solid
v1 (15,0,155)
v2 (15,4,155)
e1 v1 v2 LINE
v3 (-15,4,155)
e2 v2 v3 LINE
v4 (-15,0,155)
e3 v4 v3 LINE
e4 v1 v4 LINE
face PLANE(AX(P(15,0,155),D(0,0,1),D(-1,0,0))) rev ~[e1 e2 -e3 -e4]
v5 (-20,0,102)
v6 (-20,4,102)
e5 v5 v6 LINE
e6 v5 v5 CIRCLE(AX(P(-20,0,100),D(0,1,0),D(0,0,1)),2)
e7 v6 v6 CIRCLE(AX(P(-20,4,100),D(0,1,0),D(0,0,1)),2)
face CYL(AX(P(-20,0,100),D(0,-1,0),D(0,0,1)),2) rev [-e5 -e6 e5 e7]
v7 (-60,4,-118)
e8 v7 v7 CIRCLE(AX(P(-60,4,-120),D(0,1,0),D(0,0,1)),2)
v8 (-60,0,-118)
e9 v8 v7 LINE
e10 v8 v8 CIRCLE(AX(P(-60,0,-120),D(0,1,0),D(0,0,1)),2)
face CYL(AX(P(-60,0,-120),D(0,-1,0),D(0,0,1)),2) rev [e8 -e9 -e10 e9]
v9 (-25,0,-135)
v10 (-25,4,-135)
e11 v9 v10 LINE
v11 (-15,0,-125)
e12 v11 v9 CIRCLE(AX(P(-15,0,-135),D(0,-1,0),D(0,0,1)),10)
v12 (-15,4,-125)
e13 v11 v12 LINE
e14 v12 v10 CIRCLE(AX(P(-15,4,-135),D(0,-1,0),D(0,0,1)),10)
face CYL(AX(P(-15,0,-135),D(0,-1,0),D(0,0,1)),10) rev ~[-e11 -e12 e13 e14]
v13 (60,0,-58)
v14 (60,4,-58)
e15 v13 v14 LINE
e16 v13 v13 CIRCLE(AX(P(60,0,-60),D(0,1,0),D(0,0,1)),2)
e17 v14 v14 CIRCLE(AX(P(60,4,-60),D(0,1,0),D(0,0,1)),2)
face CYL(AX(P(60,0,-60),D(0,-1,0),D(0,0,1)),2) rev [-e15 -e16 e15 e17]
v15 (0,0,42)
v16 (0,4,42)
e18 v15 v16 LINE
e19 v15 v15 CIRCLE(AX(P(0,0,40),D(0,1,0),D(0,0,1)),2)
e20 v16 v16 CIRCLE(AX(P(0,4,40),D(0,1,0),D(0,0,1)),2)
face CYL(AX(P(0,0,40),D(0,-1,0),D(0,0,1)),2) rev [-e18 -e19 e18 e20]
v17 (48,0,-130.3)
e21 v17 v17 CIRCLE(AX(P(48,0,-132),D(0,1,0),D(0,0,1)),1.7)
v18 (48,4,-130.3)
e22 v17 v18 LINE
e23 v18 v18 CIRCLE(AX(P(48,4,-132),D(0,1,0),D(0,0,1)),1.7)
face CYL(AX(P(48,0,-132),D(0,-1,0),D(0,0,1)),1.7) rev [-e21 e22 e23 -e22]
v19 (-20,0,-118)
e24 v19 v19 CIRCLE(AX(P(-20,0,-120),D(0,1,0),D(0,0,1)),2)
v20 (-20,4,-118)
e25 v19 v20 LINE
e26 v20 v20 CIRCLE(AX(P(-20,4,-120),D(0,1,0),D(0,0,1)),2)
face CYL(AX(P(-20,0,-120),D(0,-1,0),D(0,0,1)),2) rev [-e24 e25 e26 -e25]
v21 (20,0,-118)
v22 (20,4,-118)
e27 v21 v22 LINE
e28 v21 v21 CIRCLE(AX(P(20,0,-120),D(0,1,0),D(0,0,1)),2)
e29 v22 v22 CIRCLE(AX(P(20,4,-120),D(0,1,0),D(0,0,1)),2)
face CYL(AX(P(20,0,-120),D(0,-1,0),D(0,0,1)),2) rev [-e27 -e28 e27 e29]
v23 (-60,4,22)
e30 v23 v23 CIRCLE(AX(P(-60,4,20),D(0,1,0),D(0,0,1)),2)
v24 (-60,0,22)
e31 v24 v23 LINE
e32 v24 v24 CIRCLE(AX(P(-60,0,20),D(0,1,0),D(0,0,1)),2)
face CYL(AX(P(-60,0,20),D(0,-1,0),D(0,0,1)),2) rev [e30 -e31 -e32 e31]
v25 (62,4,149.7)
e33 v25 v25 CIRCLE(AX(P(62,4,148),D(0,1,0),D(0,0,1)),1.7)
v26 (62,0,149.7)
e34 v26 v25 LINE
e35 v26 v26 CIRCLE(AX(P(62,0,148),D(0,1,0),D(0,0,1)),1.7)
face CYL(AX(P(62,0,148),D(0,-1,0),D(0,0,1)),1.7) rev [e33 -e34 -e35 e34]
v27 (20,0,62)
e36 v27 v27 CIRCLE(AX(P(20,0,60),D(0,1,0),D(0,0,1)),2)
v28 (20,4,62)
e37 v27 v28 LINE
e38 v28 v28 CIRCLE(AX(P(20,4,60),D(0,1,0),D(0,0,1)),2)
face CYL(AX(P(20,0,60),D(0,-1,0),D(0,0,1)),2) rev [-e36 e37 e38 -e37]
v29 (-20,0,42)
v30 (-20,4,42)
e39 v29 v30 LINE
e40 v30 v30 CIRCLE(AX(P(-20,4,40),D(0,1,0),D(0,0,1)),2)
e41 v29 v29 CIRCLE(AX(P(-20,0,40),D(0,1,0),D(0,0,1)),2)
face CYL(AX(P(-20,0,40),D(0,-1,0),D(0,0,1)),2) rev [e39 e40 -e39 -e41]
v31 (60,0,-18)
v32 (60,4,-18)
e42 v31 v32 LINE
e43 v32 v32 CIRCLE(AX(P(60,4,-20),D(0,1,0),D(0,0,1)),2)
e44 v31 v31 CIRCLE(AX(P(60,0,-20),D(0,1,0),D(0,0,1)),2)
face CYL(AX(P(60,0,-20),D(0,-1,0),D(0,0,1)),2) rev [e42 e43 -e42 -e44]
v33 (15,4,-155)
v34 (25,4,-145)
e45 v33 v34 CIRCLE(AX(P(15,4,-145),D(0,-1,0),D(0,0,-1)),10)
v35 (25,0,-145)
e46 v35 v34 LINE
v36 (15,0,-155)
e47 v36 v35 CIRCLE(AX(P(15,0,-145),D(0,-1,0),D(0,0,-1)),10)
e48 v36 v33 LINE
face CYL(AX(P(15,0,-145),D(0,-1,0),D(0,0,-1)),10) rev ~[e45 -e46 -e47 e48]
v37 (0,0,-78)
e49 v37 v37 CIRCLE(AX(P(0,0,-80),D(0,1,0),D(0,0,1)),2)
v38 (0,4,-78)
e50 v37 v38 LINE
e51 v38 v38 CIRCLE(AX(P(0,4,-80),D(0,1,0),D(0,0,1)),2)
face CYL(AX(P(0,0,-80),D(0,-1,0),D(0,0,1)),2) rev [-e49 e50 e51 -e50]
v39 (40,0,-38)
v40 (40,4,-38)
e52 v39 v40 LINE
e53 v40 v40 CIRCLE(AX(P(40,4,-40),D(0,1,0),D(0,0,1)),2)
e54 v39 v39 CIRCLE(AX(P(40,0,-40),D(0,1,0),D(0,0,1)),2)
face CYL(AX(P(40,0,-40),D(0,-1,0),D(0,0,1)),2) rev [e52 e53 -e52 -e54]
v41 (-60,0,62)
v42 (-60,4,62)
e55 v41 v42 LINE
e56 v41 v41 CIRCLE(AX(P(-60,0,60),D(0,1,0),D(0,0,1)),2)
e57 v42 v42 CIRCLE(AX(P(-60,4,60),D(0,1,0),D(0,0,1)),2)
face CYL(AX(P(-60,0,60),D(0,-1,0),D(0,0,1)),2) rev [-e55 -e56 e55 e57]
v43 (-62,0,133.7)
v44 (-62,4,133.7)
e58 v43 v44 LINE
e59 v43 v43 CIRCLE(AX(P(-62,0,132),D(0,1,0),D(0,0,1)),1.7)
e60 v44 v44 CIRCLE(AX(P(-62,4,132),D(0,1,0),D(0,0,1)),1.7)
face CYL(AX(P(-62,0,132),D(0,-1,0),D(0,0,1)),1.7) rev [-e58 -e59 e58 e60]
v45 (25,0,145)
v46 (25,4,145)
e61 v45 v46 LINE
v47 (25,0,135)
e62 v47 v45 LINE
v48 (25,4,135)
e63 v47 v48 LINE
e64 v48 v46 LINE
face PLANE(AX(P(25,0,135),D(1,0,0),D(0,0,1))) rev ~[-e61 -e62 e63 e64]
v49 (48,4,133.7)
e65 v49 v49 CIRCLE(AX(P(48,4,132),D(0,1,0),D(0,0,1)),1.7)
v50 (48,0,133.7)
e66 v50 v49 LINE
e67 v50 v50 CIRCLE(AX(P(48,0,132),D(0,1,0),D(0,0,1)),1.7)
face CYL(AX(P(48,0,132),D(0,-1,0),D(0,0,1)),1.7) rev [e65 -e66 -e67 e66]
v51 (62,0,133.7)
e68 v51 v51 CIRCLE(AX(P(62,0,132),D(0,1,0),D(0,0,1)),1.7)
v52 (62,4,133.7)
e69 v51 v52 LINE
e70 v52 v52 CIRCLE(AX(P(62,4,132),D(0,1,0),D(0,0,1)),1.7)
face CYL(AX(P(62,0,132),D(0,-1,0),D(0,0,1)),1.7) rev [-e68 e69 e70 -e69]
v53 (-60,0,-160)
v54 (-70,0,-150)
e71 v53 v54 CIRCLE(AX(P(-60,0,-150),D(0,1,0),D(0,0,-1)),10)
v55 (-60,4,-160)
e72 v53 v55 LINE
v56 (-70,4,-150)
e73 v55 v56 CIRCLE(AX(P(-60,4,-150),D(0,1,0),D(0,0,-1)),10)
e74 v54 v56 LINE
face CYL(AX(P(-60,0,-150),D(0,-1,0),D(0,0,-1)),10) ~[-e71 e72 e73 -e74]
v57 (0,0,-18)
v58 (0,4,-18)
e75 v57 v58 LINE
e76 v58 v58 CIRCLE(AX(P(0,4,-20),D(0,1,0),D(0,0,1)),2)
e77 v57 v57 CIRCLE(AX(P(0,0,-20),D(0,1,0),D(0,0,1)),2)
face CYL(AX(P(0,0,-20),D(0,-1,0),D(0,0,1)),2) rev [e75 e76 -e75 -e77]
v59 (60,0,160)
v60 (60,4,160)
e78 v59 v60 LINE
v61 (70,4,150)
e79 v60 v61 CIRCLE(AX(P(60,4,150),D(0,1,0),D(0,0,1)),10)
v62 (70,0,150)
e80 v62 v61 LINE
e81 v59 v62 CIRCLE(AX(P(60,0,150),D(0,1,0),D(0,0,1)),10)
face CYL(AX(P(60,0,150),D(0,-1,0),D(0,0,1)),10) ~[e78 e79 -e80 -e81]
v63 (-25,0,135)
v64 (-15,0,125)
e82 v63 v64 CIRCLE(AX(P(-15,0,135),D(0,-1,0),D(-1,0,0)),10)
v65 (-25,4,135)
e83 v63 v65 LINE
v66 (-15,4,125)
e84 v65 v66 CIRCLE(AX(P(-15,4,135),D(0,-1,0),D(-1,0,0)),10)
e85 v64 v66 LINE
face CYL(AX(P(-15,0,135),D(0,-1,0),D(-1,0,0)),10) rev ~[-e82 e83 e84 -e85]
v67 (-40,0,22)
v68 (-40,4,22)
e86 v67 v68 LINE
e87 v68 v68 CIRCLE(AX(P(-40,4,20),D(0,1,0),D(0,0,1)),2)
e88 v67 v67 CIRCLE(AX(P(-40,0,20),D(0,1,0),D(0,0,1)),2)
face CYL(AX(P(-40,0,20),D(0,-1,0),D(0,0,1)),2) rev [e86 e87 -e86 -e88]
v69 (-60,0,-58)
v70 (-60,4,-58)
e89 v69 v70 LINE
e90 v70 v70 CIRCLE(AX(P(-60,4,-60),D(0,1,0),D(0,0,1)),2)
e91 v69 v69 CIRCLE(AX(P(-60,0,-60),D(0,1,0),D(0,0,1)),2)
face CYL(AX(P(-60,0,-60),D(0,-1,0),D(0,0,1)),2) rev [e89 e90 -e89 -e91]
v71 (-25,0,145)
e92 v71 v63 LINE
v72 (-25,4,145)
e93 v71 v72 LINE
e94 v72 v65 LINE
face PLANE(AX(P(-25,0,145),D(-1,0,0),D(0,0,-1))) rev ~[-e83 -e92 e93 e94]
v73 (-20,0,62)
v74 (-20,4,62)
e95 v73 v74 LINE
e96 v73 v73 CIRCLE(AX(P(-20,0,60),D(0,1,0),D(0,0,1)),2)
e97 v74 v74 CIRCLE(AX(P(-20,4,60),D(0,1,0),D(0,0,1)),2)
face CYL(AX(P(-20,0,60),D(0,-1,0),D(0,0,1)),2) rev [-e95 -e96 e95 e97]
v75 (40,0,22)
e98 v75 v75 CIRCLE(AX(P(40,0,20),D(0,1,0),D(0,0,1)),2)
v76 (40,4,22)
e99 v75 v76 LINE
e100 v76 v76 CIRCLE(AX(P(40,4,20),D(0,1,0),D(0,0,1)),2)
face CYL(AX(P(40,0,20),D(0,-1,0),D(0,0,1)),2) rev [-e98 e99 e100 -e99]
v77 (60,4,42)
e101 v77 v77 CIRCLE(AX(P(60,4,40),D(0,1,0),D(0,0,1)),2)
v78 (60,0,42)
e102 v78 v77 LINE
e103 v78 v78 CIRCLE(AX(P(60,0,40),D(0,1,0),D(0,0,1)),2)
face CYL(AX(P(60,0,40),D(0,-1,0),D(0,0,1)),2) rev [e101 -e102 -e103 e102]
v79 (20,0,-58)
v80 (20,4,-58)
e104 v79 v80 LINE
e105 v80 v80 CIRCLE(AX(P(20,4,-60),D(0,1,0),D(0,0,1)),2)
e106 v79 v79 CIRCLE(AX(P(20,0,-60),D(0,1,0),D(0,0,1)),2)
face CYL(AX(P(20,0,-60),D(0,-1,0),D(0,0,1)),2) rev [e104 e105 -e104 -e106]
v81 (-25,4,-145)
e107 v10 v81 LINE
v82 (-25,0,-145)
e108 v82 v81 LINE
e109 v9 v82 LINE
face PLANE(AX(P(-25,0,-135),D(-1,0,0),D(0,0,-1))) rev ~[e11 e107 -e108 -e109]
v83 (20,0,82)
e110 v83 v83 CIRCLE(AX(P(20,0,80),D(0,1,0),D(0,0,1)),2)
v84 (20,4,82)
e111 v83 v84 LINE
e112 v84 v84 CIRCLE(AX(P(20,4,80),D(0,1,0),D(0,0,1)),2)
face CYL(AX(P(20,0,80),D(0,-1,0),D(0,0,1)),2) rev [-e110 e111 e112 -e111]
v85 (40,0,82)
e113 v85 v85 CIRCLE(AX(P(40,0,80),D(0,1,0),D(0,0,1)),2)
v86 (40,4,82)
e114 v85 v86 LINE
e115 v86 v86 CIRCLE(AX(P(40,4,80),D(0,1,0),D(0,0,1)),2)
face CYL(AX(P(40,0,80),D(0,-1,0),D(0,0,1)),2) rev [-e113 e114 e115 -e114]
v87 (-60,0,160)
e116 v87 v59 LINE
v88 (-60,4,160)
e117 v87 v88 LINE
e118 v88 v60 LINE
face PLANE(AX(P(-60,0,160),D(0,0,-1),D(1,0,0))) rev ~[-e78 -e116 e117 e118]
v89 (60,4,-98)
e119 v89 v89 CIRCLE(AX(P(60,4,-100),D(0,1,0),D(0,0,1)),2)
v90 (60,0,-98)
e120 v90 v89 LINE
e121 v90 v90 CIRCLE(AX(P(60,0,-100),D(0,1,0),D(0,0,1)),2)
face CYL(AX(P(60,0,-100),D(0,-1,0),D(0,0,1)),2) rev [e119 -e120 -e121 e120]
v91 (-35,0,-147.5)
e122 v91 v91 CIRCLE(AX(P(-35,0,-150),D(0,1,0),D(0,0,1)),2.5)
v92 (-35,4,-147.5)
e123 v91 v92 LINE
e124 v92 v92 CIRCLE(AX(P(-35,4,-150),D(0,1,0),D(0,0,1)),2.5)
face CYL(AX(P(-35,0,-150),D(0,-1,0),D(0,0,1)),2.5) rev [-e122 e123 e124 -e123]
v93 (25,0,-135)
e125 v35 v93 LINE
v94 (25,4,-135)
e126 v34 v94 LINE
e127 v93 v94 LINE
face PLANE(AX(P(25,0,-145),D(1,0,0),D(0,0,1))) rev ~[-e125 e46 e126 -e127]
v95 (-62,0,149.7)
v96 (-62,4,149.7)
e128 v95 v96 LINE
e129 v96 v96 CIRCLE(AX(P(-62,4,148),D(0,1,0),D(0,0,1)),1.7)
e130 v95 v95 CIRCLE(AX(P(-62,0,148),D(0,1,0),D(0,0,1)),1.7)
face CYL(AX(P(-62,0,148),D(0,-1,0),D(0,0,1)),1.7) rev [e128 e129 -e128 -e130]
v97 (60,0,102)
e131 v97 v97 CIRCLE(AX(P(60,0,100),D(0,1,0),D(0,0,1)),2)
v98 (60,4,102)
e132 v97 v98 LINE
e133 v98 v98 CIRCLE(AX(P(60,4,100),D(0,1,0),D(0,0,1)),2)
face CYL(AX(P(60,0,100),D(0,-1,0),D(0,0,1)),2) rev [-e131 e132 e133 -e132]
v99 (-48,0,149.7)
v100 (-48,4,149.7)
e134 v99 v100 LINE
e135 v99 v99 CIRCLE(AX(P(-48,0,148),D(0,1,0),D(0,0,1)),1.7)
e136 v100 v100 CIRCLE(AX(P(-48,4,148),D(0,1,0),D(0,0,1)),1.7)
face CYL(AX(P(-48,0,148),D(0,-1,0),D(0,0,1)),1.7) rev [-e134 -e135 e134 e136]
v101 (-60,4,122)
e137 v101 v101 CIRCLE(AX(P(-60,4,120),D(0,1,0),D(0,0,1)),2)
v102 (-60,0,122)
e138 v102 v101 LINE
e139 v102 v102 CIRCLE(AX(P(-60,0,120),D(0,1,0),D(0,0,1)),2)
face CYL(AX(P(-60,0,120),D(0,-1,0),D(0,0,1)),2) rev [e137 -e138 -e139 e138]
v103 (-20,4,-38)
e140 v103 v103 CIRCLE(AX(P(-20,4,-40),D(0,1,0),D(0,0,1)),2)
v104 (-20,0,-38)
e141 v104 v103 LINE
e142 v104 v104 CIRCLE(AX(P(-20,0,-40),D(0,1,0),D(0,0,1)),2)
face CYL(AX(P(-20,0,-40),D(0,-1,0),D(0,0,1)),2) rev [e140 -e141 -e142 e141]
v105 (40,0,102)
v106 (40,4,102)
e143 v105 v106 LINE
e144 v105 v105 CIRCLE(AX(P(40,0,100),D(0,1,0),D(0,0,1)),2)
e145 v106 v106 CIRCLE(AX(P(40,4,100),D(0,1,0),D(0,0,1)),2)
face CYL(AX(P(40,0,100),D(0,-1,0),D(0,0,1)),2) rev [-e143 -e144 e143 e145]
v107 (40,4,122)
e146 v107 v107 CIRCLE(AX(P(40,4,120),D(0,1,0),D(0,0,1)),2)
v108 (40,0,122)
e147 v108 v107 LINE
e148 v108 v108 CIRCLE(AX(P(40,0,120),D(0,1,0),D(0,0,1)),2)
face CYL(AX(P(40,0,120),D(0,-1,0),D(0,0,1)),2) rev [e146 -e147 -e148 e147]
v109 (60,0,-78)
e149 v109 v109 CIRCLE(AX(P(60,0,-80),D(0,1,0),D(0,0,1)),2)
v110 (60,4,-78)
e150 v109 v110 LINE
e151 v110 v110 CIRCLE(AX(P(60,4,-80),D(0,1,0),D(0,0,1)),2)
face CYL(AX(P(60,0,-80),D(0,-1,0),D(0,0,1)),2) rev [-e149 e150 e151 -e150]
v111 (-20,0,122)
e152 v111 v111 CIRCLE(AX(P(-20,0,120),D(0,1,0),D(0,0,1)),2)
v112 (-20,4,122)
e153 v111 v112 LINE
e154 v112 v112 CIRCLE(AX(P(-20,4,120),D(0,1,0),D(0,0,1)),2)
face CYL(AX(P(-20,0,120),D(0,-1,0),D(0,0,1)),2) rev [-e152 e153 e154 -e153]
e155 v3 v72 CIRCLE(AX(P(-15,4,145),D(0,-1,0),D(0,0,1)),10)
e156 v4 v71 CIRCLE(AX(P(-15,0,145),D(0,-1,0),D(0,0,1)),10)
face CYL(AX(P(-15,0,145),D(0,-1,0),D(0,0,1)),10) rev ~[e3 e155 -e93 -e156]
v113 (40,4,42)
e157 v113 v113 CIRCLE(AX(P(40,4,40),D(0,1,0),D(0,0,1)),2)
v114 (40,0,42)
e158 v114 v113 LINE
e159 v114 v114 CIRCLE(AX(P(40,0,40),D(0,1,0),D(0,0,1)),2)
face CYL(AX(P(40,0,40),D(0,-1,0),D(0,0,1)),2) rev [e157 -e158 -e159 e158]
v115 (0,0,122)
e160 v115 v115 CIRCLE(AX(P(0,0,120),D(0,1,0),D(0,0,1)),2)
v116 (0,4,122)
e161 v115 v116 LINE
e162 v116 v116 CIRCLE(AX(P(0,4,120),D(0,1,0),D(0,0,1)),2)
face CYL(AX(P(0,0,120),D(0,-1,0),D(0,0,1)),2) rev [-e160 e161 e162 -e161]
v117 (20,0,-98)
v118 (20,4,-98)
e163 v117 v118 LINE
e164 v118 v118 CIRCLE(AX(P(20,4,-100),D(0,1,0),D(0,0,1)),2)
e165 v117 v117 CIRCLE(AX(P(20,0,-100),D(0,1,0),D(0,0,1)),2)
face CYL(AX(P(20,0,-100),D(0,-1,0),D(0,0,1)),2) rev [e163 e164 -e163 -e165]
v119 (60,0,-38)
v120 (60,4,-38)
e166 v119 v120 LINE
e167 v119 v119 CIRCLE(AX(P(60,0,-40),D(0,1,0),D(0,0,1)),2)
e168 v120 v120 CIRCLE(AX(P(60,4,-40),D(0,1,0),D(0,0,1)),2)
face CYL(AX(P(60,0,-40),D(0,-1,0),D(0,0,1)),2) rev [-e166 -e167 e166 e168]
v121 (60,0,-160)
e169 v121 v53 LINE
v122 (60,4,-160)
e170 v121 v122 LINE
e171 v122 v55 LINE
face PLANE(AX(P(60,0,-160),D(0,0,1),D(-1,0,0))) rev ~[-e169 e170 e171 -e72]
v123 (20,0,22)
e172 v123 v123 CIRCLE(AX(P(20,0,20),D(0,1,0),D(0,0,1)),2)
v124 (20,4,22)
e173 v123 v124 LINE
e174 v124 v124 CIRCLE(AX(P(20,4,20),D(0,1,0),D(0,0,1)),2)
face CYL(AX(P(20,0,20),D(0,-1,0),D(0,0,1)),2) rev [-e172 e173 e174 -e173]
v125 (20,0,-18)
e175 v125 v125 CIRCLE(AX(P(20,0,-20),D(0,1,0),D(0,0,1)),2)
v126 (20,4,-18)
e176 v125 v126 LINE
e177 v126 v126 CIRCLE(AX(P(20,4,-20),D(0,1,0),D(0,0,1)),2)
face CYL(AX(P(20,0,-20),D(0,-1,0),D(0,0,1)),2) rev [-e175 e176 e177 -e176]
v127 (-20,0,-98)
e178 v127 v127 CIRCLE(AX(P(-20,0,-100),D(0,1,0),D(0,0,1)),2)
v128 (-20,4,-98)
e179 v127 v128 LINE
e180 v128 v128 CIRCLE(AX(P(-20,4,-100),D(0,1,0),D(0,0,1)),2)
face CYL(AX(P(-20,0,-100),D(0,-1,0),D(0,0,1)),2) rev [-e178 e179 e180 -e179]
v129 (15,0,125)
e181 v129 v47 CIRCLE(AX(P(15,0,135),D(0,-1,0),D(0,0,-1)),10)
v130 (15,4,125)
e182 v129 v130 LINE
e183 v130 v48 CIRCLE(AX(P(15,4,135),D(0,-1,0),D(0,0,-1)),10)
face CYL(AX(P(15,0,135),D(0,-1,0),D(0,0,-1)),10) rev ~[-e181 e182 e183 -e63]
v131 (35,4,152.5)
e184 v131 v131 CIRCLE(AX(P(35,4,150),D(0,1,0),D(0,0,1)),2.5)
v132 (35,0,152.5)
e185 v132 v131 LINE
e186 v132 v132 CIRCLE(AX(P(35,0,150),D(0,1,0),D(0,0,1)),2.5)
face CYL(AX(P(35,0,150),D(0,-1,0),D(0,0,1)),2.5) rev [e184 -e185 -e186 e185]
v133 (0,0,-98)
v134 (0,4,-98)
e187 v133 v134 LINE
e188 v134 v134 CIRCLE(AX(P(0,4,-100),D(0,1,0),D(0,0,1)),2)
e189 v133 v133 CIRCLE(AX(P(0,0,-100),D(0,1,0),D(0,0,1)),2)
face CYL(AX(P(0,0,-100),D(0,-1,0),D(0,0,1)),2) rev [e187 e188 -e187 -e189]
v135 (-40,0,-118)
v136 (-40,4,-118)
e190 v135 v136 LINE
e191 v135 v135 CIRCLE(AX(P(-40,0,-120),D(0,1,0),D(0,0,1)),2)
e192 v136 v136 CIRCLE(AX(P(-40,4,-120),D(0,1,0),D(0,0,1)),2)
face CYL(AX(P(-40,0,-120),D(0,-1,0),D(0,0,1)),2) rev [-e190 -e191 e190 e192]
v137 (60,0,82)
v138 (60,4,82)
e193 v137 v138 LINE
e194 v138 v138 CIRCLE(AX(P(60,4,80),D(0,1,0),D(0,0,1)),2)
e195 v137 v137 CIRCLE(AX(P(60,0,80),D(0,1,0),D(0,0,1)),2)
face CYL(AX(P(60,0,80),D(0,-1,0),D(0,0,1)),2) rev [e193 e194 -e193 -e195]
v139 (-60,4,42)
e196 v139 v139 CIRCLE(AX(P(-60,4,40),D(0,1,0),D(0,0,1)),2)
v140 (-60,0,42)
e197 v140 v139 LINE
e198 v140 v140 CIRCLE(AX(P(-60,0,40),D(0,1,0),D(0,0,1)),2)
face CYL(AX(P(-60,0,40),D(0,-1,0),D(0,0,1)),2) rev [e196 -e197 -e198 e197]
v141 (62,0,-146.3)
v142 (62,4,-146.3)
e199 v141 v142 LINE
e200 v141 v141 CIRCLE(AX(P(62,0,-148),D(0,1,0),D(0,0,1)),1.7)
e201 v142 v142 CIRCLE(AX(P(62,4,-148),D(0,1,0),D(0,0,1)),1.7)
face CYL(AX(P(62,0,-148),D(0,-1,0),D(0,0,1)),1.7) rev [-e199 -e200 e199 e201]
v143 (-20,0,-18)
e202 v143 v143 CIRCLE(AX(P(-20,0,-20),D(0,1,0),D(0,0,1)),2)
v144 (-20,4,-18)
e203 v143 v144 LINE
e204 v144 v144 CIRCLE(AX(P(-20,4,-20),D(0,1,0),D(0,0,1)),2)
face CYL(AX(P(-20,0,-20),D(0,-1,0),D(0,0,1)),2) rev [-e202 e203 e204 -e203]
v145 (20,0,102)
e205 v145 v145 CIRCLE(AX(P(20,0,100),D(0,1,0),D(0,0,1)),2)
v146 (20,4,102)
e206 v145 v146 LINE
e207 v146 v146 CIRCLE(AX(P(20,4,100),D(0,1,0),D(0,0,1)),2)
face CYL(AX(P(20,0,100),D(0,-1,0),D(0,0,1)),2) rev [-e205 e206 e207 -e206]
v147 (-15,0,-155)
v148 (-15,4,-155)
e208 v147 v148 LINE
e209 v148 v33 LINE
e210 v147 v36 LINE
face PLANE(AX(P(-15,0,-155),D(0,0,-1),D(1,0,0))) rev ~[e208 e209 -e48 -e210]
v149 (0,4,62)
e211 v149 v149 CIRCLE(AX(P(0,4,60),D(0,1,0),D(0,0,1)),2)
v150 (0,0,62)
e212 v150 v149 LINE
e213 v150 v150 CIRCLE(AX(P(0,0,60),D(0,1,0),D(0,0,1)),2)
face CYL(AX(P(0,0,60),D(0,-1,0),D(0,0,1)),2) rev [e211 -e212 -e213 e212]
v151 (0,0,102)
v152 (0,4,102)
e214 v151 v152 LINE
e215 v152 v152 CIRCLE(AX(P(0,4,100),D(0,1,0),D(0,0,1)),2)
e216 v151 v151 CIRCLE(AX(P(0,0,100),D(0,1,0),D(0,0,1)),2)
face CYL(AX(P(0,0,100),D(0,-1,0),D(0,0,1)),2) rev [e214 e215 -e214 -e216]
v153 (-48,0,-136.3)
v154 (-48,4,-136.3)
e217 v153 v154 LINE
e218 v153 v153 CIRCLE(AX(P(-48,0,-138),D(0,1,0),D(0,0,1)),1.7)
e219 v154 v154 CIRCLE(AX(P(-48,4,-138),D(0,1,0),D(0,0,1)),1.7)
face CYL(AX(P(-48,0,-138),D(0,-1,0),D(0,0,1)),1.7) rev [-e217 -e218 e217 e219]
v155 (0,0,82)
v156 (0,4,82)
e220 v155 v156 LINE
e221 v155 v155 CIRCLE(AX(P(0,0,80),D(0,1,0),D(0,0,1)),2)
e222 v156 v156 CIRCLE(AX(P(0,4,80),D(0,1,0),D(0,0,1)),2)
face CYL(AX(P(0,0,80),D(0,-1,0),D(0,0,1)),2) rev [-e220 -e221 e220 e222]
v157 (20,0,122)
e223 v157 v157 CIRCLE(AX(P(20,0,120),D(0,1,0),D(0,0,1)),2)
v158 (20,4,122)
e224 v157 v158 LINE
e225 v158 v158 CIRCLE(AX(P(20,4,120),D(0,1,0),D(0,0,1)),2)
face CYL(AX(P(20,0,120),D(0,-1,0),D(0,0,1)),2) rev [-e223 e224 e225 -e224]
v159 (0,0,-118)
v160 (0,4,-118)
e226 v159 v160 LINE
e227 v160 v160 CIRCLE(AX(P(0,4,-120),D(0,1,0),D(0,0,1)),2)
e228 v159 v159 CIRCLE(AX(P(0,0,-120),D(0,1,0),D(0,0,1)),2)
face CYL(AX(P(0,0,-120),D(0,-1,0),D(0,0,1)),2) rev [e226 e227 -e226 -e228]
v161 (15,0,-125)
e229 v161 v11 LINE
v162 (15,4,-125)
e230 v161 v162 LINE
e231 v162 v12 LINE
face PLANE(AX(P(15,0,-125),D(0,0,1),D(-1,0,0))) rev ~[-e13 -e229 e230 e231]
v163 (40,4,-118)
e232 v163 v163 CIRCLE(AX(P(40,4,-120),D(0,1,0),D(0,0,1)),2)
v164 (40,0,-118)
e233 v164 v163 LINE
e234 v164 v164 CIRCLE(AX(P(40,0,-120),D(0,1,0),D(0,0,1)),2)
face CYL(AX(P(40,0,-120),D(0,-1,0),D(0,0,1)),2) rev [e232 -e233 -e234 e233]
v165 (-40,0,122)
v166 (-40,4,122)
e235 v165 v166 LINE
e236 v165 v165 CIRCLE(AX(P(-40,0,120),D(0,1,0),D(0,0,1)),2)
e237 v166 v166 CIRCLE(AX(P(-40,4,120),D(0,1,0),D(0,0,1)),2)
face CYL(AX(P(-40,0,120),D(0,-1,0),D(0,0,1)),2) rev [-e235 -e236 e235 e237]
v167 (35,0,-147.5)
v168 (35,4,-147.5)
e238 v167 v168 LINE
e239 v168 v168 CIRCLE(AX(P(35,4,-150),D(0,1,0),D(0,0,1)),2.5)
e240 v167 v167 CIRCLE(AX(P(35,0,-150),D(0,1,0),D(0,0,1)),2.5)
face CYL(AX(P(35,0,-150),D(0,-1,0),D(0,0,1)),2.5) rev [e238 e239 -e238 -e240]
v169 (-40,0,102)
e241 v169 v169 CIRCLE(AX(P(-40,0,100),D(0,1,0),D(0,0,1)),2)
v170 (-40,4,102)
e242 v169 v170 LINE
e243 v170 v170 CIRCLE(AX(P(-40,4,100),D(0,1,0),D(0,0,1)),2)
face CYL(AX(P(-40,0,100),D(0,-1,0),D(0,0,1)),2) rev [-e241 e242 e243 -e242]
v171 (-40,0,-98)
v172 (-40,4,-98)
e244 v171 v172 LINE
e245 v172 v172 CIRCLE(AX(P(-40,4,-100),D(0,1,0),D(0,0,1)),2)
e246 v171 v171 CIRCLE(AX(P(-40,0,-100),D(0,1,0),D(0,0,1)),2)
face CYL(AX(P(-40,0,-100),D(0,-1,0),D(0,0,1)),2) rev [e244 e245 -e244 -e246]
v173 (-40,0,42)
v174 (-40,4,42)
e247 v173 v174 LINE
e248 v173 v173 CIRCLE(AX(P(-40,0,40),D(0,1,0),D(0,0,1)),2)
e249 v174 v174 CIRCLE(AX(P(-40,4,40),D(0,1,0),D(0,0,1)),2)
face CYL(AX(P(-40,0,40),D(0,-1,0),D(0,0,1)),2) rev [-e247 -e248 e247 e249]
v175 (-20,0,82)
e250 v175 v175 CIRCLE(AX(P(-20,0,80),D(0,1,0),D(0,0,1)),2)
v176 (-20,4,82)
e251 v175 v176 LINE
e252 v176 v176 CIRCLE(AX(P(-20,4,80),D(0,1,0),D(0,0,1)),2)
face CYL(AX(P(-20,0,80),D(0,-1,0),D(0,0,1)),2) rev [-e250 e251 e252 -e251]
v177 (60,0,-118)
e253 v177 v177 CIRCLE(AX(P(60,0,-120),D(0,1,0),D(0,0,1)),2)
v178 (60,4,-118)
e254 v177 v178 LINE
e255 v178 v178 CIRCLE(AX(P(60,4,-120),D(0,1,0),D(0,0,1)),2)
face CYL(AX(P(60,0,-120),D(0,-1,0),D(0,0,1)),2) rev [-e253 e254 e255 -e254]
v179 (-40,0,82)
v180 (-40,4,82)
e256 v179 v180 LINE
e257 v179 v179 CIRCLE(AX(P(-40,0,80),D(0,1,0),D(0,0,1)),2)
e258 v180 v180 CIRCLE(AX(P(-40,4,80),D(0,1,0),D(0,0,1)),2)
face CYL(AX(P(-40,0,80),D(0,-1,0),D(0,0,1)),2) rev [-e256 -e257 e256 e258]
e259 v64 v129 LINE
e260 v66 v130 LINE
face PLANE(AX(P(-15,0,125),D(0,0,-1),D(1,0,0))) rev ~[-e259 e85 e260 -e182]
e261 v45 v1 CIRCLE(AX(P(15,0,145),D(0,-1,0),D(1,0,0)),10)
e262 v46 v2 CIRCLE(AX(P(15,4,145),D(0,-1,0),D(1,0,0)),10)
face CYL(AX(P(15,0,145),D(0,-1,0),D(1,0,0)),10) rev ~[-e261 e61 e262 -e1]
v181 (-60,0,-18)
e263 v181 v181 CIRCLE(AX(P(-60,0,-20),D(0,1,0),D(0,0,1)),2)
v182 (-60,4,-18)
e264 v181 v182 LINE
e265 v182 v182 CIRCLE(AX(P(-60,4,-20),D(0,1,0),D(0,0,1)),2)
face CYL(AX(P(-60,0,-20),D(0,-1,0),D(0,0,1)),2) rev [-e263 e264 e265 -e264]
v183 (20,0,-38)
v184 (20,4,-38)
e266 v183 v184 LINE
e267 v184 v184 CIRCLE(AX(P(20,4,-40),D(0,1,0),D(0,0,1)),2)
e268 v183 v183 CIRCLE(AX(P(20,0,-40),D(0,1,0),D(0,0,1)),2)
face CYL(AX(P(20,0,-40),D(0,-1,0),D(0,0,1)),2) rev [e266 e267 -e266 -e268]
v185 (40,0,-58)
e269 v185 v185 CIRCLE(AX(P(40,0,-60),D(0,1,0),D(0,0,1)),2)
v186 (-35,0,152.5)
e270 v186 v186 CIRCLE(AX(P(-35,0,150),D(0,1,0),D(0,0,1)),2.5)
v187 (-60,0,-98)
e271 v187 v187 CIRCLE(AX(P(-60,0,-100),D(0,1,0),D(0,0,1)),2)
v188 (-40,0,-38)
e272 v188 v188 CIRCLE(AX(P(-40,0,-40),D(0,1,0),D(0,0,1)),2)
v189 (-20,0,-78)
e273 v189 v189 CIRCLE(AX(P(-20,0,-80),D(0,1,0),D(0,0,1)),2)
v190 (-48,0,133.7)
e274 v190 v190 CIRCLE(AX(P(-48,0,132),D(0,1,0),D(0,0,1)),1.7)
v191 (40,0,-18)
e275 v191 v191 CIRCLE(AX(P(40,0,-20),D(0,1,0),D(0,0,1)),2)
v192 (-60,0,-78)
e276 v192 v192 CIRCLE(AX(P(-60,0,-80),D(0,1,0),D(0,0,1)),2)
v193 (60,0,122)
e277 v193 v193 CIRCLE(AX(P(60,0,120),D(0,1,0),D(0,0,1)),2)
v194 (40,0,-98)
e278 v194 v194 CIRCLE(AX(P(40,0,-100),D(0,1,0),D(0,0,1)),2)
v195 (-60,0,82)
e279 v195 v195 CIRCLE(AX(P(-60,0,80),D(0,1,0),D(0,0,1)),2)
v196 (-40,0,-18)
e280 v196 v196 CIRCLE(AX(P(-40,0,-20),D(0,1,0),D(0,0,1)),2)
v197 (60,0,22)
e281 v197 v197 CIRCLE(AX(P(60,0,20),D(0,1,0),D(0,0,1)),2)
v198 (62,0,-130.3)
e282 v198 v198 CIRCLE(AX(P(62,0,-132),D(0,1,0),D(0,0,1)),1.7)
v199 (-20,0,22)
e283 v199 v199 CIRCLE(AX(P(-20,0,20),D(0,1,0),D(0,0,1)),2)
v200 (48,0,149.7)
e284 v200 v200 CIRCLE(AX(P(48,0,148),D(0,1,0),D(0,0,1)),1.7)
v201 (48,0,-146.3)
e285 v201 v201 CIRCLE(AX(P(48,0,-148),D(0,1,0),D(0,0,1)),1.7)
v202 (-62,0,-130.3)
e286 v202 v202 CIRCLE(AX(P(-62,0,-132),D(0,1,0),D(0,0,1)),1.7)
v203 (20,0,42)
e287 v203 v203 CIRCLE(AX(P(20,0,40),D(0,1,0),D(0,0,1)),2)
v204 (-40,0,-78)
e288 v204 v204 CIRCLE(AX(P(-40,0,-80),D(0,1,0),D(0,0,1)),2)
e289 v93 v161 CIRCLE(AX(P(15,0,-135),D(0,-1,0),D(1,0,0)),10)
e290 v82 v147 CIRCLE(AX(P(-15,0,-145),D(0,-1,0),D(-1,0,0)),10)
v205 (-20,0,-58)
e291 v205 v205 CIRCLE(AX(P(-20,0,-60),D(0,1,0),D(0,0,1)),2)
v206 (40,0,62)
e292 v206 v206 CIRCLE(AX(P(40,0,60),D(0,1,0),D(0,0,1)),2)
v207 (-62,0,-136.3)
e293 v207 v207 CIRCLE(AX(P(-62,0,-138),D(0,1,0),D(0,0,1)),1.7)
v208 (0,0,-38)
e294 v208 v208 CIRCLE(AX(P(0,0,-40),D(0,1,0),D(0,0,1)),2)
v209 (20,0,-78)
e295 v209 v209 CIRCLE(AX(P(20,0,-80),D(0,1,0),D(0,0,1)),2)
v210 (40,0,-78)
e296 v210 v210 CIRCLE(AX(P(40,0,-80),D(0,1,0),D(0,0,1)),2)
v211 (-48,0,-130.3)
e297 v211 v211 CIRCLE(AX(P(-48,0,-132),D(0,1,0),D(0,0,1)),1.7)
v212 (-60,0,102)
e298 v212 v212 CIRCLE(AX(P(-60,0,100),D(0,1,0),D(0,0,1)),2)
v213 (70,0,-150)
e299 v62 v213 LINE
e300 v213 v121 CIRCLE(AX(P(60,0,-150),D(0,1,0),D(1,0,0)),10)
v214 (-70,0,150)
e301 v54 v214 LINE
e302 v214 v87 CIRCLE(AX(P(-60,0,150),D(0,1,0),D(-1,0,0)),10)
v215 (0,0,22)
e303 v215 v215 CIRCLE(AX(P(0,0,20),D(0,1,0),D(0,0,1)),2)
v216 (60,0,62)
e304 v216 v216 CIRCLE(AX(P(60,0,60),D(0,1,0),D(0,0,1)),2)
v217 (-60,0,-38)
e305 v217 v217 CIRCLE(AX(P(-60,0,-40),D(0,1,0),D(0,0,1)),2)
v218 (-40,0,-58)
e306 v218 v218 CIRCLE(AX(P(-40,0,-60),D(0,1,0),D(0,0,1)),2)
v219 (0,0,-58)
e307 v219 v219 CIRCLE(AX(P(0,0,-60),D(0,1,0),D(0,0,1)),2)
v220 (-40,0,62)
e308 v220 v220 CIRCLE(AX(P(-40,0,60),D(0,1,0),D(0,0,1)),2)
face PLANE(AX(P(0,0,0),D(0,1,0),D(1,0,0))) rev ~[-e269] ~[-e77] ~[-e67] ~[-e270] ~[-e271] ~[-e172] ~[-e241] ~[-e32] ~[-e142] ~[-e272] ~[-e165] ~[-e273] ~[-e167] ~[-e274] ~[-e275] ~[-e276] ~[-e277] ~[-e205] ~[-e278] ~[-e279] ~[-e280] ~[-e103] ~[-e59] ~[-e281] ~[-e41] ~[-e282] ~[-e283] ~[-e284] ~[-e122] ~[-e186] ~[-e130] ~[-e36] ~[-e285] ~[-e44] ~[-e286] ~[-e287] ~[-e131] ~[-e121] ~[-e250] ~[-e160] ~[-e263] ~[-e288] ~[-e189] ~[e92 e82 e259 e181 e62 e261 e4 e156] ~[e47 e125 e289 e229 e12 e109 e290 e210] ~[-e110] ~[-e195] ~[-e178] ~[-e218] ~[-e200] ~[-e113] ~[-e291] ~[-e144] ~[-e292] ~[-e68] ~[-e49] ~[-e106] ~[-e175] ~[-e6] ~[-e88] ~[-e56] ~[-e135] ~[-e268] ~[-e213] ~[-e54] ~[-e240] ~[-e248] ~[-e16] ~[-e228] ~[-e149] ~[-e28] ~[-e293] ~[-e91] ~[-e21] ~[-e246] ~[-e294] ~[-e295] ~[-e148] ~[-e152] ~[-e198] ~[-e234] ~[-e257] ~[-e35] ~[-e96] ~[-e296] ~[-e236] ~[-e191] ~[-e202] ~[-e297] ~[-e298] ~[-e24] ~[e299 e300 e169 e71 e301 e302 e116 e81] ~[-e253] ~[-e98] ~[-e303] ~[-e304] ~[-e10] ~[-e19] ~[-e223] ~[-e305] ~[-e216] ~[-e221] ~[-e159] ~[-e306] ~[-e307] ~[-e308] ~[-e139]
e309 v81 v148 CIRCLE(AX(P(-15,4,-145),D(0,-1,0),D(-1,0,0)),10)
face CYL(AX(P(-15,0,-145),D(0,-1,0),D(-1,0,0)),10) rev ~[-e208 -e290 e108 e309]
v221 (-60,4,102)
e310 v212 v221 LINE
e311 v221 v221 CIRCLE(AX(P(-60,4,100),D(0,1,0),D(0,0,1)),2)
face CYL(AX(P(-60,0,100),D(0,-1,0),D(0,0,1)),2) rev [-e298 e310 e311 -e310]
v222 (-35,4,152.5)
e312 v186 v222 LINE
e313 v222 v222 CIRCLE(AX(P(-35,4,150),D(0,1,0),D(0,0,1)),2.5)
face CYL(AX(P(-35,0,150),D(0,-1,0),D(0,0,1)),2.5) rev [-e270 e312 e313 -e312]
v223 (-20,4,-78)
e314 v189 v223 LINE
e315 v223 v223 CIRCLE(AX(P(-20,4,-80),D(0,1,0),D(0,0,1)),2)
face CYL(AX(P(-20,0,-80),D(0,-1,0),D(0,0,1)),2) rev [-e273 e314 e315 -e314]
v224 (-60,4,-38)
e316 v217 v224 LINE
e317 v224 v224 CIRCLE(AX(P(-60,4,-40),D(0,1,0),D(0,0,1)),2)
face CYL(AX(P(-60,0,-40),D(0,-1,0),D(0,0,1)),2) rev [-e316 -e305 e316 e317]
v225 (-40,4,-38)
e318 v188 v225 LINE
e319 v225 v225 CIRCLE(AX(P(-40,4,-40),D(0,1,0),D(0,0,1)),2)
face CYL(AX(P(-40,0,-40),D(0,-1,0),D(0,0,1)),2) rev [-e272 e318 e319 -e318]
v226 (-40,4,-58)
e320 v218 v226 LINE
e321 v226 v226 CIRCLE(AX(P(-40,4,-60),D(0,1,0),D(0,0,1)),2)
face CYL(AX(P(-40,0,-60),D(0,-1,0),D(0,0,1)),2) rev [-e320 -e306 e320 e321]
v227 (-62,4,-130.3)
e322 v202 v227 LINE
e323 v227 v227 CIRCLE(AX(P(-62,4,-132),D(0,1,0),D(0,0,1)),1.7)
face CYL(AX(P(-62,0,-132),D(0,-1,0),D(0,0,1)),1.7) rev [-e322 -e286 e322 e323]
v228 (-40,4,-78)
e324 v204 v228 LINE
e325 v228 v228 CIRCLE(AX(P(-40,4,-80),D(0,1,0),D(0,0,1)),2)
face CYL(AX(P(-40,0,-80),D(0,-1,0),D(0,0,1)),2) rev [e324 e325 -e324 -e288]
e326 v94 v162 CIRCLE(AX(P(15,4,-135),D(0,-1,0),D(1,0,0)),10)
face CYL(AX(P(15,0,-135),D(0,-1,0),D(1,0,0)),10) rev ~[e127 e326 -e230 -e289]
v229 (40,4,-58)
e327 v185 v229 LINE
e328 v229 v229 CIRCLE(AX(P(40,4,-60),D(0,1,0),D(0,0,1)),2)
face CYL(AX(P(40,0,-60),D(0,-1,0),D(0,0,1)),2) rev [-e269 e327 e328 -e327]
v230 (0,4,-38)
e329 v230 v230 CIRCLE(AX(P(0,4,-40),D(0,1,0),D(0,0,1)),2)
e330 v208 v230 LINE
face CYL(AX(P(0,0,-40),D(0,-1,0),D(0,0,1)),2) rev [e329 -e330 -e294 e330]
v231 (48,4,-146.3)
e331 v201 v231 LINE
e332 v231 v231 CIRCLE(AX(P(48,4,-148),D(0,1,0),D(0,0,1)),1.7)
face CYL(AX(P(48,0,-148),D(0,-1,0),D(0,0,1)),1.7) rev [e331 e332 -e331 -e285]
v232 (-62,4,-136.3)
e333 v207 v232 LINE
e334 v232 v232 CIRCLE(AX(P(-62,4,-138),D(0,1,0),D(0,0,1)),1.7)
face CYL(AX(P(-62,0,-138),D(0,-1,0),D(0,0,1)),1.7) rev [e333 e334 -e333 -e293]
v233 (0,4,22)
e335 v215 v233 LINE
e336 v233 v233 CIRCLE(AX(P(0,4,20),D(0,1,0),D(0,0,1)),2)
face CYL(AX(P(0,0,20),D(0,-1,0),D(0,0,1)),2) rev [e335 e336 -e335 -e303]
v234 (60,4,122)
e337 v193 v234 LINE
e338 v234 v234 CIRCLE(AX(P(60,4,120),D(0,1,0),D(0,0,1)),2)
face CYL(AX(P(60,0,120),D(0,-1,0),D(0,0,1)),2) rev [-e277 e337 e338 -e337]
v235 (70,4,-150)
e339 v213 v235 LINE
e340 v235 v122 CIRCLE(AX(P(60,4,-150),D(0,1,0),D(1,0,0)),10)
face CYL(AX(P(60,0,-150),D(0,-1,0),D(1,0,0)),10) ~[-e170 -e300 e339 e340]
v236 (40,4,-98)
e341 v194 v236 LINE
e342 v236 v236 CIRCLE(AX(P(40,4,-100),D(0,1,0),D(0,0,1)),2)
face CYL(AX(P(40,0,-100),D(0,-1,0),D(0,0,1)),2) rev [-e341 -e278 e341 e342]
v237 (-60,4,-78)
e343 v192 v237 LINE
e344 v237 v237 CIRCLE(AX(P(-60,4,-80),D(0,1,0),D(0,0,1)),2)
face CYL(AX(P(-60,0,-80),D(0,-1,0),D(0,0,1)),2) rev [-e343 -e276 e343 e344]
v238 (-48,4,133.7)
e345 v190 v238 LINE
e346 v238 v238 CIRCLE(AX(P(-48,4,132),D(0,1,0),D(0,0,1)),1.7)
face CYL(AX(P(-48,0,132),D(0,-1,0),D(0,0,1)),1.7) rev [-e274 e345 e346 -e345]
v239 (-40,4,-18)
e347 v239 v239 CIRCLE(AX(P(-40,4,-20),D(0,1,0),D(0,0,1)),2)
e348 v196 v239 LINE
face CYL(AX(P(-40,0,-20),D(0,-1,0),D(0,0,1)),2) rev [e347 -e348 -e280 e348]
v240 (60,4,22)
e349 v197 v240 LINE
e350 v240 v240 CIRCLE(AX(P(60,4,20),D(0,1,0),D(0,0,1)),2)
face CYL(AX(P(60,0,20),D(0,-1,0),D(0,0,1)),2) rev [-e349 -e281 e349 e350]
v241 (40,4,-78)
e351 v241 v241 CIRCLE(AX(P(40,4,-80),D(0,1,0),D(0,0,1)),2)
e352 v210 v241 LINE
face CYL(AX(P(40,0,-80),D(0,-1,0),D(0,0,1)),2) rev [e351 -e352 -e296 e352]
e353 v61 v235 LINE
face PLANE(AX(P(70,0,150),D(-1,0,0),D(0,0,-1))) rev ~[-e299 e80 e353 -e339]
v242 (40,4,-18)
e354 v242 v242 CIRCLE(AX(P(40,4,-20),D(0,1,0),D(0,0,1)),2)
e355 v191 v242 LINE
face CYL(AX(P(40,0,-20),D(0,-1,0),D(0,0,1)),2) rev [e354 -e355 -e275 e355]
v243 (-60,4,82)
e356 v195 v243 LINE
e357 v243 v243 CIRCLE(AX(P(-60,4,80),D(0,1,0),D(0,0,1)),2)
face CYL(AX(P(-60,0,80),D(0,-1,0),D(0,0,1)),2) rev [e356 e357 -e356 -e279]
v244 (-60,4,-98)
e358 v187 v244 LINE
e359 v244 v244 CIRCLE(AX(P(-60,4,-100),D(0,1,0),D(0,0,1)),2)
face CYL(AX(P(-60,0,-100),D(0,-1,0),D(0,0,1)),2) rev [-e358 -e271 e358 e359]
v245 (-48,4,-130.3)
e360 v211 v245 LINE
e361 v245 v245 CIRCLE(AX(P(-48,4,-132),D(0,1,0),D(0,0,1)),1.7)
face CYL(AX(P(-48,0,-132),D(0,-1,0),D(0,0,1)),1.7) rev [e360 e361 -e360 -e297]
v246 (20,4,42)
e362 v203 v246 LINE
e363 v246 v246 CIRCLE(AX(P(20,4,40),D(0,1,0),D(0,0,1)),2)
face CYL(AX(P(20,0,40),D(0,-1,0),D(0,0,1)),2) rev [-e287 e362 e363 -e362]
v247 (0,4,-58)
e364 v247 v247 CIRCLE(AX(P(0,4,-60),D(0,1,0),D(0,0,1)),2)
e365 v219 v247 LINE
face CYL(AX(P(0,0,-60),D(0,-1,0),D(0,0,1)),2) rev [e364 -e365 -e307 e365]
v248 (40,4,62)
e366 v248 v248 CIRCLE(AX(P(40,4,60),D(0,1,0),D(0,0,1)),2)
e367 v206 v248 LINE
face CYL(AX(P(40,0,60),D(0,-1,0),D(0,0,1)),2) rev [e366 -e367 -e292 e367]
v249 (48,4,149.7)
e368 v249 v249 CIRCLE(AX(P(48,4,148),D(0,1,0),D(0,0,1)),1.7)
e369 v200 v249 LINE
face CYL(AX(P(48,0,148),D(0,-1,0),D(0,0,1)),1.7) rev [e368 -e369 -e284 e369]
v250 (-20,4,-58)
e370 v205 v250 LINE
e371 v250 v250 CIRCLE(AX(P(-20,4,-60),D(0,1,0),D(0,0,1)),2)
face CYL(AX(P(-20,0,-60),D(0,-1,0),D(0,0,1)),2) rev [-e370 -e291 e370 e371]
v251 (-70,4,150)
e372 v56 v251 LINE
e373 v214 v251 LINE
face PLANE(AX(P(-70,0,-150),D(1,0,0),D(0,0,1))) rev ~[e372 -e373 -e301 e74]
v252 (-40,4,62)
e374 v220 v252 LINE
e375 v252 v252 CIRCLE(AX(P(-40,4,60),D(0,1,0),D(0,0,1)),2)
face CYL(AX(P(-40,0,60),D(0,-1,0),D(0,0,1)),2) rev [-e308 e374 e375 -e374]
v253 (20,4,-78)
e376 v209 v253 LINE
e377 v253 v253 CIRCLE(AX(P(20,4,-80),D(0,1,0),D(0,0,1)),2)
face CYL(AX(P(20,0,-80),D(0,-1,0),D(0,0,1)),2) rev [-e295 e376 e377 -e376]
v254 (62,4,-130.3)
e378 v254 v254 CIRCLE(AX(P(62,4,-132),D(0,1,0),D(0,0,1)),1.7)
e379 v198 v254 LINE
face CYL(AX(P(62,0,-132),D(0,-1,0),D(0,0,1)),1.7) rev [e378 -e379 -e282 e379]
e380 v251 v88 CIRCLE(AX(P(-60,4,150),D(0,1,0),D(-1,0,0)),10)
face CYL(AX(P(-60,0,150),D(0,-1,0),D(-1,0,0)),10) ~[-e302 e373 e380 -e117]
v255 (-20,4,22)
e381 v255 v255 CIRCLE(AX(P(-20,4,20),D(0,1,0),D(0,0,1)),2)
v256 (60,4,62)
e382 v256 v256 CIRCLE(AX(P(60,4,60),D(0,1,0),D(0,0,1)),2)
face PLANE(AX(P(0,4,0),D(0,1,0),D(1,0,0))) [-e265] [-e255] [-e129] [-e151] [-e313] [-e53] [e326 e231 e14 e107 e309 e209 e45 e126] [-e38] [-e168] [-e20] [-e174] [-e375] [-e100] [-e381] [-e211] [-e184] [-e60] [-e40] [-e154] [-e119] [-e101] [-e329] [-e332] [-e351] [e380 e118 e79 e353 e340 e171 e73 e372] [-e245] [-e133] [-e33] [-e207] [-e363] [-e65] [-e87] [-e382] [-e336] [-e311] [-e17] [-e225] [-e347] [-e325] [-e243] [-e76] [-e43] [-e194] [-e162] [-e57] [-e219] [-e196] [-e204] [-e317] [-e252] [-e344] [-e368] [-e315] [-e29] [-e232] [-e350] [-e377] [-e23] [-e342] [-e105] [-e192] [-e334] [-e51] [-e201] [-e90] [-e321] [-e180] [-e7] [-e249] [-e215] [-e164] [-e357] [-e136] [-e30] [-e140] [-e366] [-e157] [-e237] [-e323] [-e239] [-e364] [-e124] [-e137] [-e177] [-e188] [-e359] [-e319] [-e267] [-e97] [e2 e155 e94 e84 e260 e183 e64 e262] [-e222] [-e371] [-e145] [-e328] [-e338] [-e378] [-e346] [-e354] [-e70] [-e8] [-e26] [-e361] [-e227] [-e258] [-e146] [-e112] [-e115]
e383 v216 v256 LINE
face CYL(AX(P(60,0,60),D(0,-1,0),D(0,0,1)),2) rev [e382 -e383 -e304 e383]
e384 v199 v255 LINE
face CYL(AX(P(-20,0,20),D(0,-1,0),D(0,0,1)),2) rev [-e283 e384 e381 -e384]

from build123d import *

# Parameters (mm, degrees)
SKETCH_1_R      = 1.7
SKETCH_1_R_2    = 2
SKETCH_1_R_3    = 2.5
EXTRUDE_2_DEPTH = 4


with BuildPart() as part:
    # 草图1 → 凸台-拉伸2 (new body)
    with BuildSketch(Plane(origin=(0, 0, 0), x_dir=(1, 0, 0), z_dir=(0, 1, 0))):
        with BuildLine():
            Line((60, 160), (0, 160))
            Line((0, 160), (-60, 160))
            ThreePointArc((-60, 160), (-67.071067812, 157.071067812), (-70, 150))
            Line((-70, 150), (-70, 0))
            Line((-70, 0), (-70, -150))
            ThreePointArc((-70, -150), (-67.071067812, -157.071067812), (-60, -160))
            Line((-60, -160), (60, -160))
            ThreePointArc((60, -160), (67.071067812, -157.071067812), (70, -150))
            Line((70, -150), (70, 150))
            ThreePointArc((70, 150), (67.071067812, 157.071067812), (60, 160))
        make_face()
        with Locations(Location((-62, 132, 0), (0, 0, 270))):
            Circle(SKETCH_1_R, mode=Mode.SUBTRACT)
        with Locations(Location((-62, -148, 0), (0, 0, 270))):
            Circle(SKETCH_1_R, mode=Mode.SUBTRACT)
        with Locations(Location((-48, -148, 0), (0, 0, 270))):
            Circle(SKETCH_1_R, mode=Mode.SUBTRACT)
        with Locations(Location((-62, -132, 0), (0, 0, 270))):
            Circle(SKETCH_1_R, mode=Mode.SUBTRACT)
        with Locations(Location((-60, -120, 0), (0, 0, 270))):
            Circle(SKETCH_1_R_2, mode=Mode.SUBTRACT)
        with Locations(Location((-48, -132, 0), (0, 0, 270))):
            Circle(SKETCH_1_R, mode=Mode.SUBTRACT)
        with Locations(Location((-35, -150, 0), (0, 0, 270))):
            Circle(SKETCH_1_R_3, mode=Mode.SUBTRACT)
        with Locations(Location((-40, -120, 0), (0, 0, 270))):
            Circle(SKETCH_1_R_2, mode=Mode.SUBTRACT)
        with Locations(Location((-60, -100, 0), (0, 0, 270))):
            Circle(SKETCH_1_R_2, mode=Mode.SUBTRACT)
        with Locations(Location((-60, -80, 0), (0, 0, 270))):
            Circle(SKETCH_1_R_2, mode=Mode.SUBTRACT)
        with Locations(Location((-40, -100, 0), (0, 0, 270))):
            Circle(SKETCH_1_R_2, mode=Mode.SUBTRACT)
        with Locations(Location((-40, -80, 0), (0, 0, 270))):
            Circle(SKETCH_1_R_2, mode=Mode.SUBTRACT)
        with Locations(Location((-20, -120, 0), (0, 0, 270))):
            Circle(SKETCH_1_R_2, mode=Mode.SUBTRACT)
        with BuildLine():
            ThreePointArc((15, -125), (22.071067812, -127.928932188), (25, -135))
            Line((25, -135), (25, -145))
            ThreePointArc((25, -145), (22.071067812, -152.071067812), (15, -155))
            Line((15, -155), (-15, -155))
            ThreePointArc((-15, -155), (-22.071067812, -152.071067812), (-25, -145))
            Line((-25, -145), (-25, -135))
            ThreePointArc((-25, -135), (-22.071067812, -127.928932188), (-15, -125))
            Line((-15, -125), (15, -125))
        make_face(mode=Mode.SUBTRACT)
        with Locations(Location((0, -120, 0), (0, 0, 270))):
            Circle(SKETCH_1_R_2, mode=Mode.SUBTRACT)
        with Locations(Location((-20, -100, 0), (0, 0, 270))):
            Circle(SKETCH_1_R_2, mode=Mode.SUBTRACT)
        with Locations(Location((-20, -80, 0), (0, 0, 270))):
            Circle(SKETCH_1_R_2, mode=Mode.SUBTRACT)
        with Locations(Location((0, -100, 0), (0, 0, 270))):
            Circle(SKETCH_1_R_2, mode=Mode.SUBTRACT)
        with Locations(Location((0, -80, 0), (0, 0, 270))):
            Circle(SKETCH_1_R_2, mode=Mode.SUBTRACT)
        with Locations(Location((-60, -60, 0), (0, 0, 270))):
            Circle(SKETCH_1_R_2, mode=Mode.SUBTRACT)
        with Locations(Location((-60, -40, 0), (0, 0, 270))):
            Circle(SKETCH_1_R_2, mode=Mode.SUBTRACT)
        with Locations(Location((-40, -60, 0), (0, 0, 270))):
            Circle(SKETCH_1_R_2, mode=Mode.SUBTRACT)
        with Locations(Location((-40, -40, 0), (0, 0, 270))):
            Circle(SKETCH_1_R_2, mode=Mode.SUBTRACT)
        with Locations(Location((-60, -20, 0), (0, 0, 270))):
            Circle(SKETCH_1_R_2, mode=Mode.SUBTRACT)
        with Locations(Location((-40, -20, 0), (0, 0, 270))):
            Circle(SKETCH_1_R_2, mode=Mode.SUBTRACT)
        with Locations(Location((-20, -60, 0), (0, 0, 270))):
            Circle(SKETCH_1_R_2, mode=Mode.SUBTRACT)
        with Locations(Location((-20, -40, 0), (0, 0, 270))):
            Circle(SKETCH_1_R_2, mode=Mode.SUBTRACT)
        with Locations(Location((0, -60, 0), (0, 0, 270))):
            Circle(SKETCH_1_R_2, mode=Mode.SUBTRACT)
        with Locations(Location((0, -40, 0), (0, 0, 270))):
            Circle(SKETCH_1_R_2, mode=Mode.SUBTRACT)
        with Locations(Location((-20, -20, 0), (0, 0, 270))):
            Circle(SKETCH_1_R_2, mode=Mode.SUBTRACT)
        with Locations(Location((0, -20, 0), (0, 0, 270))):
            Circle(SKETCH_1_R_2, mode=Mode.SUBTRACT)
        with Locations(Location((20, -120, 0), (0, 0, 270))):
            Circle(SKETCH_1_R_2, mode=Mode.SUBTRACT)
        with Locations(Location((20, -100, 0), (0, 0, 270))):
            Circle(SKETCH_1_R_2, mode=Mode.SUBTRACT)
        with Locations(Location((20, -80, 0), (0, 0, 270))):
            Circle(SKETCH_1_R_2, mode=Mode.SUBTRACT)
        with Locations(Location((35, -150, 0), (0, 0, 270))):
            Circle(SKETCH_1_R_3, mode=Mode.SUBTRACT)
        with Locations(Location((40, -120, 0), (0, 0, 270))):
            Circle(SKETCH_1_R_2, mode=Mode.SUBTRACT)
        with Locations(Location((48, -148, 0), (0, 0, 270))):
            Circle(SKETCH_1_R, mode=Mode.SUBTRACT)
        with Locations(Location((62, -148, 0), (0, 0, 270))):
            Circle(SKETCH_1_R, mode=Mode.SUBTRACT)
        with Locations(Location((48, -132, 0), (0, 0, 270))):
            Circle(SKETCH_1_R, mode=Mode.SUBTRACT)
        with Locations(Location((62, -132, 0), (0, 0, 270))):
            Circle(SKETCH_1_R, mode=Mode.SUBTRACT)
        with Locations(Location((60, -120, 0), (0, 0, 270))):
            Circle(SKETCH_1_R_2, mode=Mode.SUBTRACT)
        with Locations(Location((40, -100, 0), (0, 0, 270))):
            Circle(SKETCH_1_R_2, mode=Mode.SUBTRACT)
        with Locations(Location((40, -80, 0), (0, 0, 270))):
            Circle(SKETCH_1_R_2, mode=Mode.SUBTRACT)
        with Locations(Location((60, -100, 0), (0, 0, 270))):
            Circle(SKETCH_1_R_2, mode=Mode.SUBTRACT)
        with Locations(Location((60, -80, 0), (0, 0, 270))):
            Circle(SKETCH_1_R_2, mode=Mode.SUBTRACT)
        with Locations(Location((20, -60, 0), (0, 0, 270))):
            Circle(SKETCH_1_R_2, mode=Mode.SUBTRACT)
        with Locations(Location((20, -40, 0), (0, 0, 270))):
            Circle(SKETCH_1_R_2, mode=Mode.SUBTRACT)
        with Locations(Location((20, -20, 0), (0, 0, 270))):
            Circle(SKETCH_1_R_2, mode=Mode.SUBTRACT)
        with Locations(Location((40, -60, 0), (0, 0, 270))):
            Circle(SKETCH_1_R_2, mode=Mode.SUBTRACT)
        with Locations(Location((40, -40, 0), (0, 0, 270))):
            Circle(SKETCH_1_R_2, mode=Mode.SUBTRACT)
        with Locations(Location((60, -60, 0), (0, 0, 270))):
            Circle(SKETCH_1_R_2, mode=Mode.SUBTRACT)
        with Locations(Location((60, -40, 0), (0, 0, 270))):
            Circle(SKETCH_1_R_2, mode=Mode.SUBTRACT)
        with Locations(Location((40, -20, 0), (0, 0, 270))):
            Circle(SKETCH_1_R_2, mode=Mode.SUBTRACT)
        with Locations(Location((60, -20, 0), (0, 0, 270))):
            Circle(SKETCH_1_R_2, mode=Mode.SUBTRACT)
        with Locations(Location((-60, 20, 0), (0, 0, 270))):
            Circle(SKETCH_1_R_2, mode=Mode.SUBTRACT)
        with Locations(Location((-40, 20, 0), (0, 0, 270))):
            Circle(SKETCH_1_R_2, mode=Mode.SUBTRACT)
        with Locations(Location((-60, 40, 0), (0, 0, 270))):
            Circle(SKETCH_1_R_2, mode=Mode.SUBTRACT)
        with Locations(Location((-60, 60, 0), (0, 0, 270))):
            Circle(SKETCH_1_R_2, mode=Mode.SUBTRACT)
        with Locations(Location((-40, 40, 0), (0, 0, 270))):
            Circle(SKETCH_1_R_2, mode=Mode.SUBTRACT)
        with Locations(Location((-40, 60, 0), (0, 0, 270))):
            Circle(SKETCH_1_R_2, mode=Mode.SUBTRACT)
        with Locations(Location((-20, 20, 0), (0, 0, 270))):
            Circle(SKETCH_1_R_2, mode=Mode.SUBTRACT)
        with Locations(Location((0, 20, 0), (0, 0, 270))):
            Circle(SKETCH_1_R_2, mode=Mode.SUBTRACT)
        with Locations(Location((-20, 40, 0), (0, 0, 270))):
            Circle(SKETCH_1_R_2, mode=Mode.SUBTRACT)
        with Locations(Location((-20, 60, 0), (0, 0, 270))):
            Circle(SKETCH_1_R_2, mode=Mode.SUBTRACT)
        with Locations(Location((0, 40, 0), (0, 0, 270))):
            Circle(SKETCH_1_R_2, mode=Mode.SUBTRACT)
        with Locations(Location((0, 60, 0), (0, 0, 270))):
            Circle(SKETCH_1_R_2, mode=Mode.SUBTRACT)
        with Locations(Location((-60, 80, 0), (0, 0, 270))):
            Circle(SKETCH_1_R_2, mode=Mode.SUBTRACT)
        with Locations(Location((-60, 100, 0), (0, 0, 270))):
            Circle(SKETCH_1_R_2, mode=Mode.SUBTRACT)
        with Locations(Location((-40, 80, 0), (0, 0, 270))):
            Circle(SKETCH_1_R_2, mode=Mode.SUBTRACT)
        with Locations(Location((-40, 100, 0), (0, 0, 270))):
            Circle(SKETCH_1_R_2, mode=Mode.SUBTRACT)
        with Locations(Location((-60, 120, 0), (0, 0, 270))):
            Circle(SKETCH_1_R_2, mode=Mode.SUBTRACT)
        with Locations(Location((-48, 132, 0), (0, 0, 270))):
            Circle(SKETCH_1_R, mode=Mode.SUBTRACT)
        with Locations(Location((-62, 138, 0), (0, 0, 270))):
            Circle(SKETCH_1_R, mode=Mode.SUBTRACT)
        with Locations(Location((-48, 138, 0), (0, 0, 270))):
            Circle(SKETCH_1_R, mode=Mode.SUBTRACT)
        with Locations(Location((-40, 120, 0), (0, 0, 270))):
            Circle(SKETCH_1_R_2, mode=Mode.SUBTRACT)
        with Locations(Location((-35, 150, 0), (0, 0, 270))):
            Circle(SKETCH_1_R_3, mode=Mode.SUBTRACT)
        with Locations(Location((-20, 80, 0), (0, 0, 270))):
            Circle(SKETCH_1_R_2, mode=Mode.SUBTRACT)
        with Locations(Location((-20, 100, 0), (0, 0, 270))):
            Circle(SKETCH_1_R_2, mode=Mode.SUBTRACT)
        with Locations(Location((0, 80, 0), (0, 0, 270))):
            Circle(SKETCH_1_R_2, mode=Mode.SUBTRACT)
        with Locations(Location((0, 100, 0), (0, 0, 270))):
            Circle(SKETCH_1_R_2, mode=Mode.SUBTRACT)
        with Locations(Location((-20, 120, 0), (0, 0, 270))):
            Circle(SKETCH_1_R_2, mode=Mode.SUBTRACT)
        with Locations(Location((0, 120, 0), (0, 0, 270))):
            Circle(SKETCH_1_R_2, mode=Mode.SUBTRACT)
        with BuildLine():
            Line((-15, 155), (0, 155))
            Line((0, 155), (15, 155))
            ThreePointArc((15, 155), (22.071067812, 152.071067812), (25, 145))
            Line((25, 145), (25, 135))
            ThreePointArc((25, 135), (22.071067812, 127.928932188), (15, 125))
            Line((15, 125), (-15, 125))
            ThreePointArc((-15, 125), (-22.071067812, 127.928932188), (-25, 135))
            Line((-25, 135), (-25, 145))
            ThreePointArc((-25, 145), (-22.071067812, 152.071067812), (-15, 155))
        make_face(mode=Mode.SUBTRACT)
        with Locations(Location((20, 20, 0), (0, 0, 270))):
            Circle(SKETCH_1_R_2, mode=Mode.SUBTRACT)
        with Locations(Location((20, 40, 0), (0, 0, 270))):
            Circle(SKETCH_1_R_2, mode=Mode.SUBTRACT)
        with Locations(Location((20, 60, 0), (0, 0, 270))):
            Circle(SKETCH_1_R_2, mode=Mode.SUBTRACT)
        with Locations(Location((40, 20, 0), (0, 0, 270))):
            Circle(SKETCH_1_R_2, mode=Mode.SUBTRACT)
        with Locations(Location((60, 20, 0), (0, 0, 270))):
            Circle(SKETCH_1_R_2, mode=Mode.SUBTRACT)
        with Locations(Location((40, 40, 0), (0, 0, 270))):
            Circle(SKETCH_1_R_2, mode=Mode.SUBTRACT)
        with Locations(Location((40, 60, 0), (0, 0, 270))):
            Circle(SKETCH_1_R_2, mode=Mode.SUBTRACT)
        with Locations(Location((60, 40, 0), (0, 0, 270))):
            Circle(SKETCH_1_R_2, mode=Mode.SUBTRACT)
        with Locations(Location((60, 60, 0), (0, 0, 270))):
            Circle(SKETCH_1_R_2, mode=Mode.SUBTRACT)
        with Locations(Location((20, 80, 0), (0, 0, 270))):
            Circle(SKETCH_1_R_2, mode=Mode.SUBTRACT)
        with Locations(Location((20, 100, 0), (0, 0, 270))):
            Circle(SKETCH_1_R_2, mode=Mode.SUBTRACT)
        with Locations(Location((20, 120, 0), (0, 0, 270))):
            Circle(SKETCH_1_R_2, mode=Mode.SUBTRACT)
        with Locations(Location((40, 80, 0), (0, 0, 270))):
            Circle(SKETCH_1_R_2, mode=Mode.SUBTRACT)
        with Locations(Location((40, 100, 0), (0, 0, 270))):
            Circle(SKETCH_1_R_2, mode=Mode.SUBTRACT)
        with Locations(Location((60, 80, 0), (0, 0, 270))):
            Circle(SKETCH_1_R_2, mode=Mode.SUBTRACT)
        with Locations(Location((60, 100, 0), (0, 0, 270))):
            Circle(SKETCH_1_R_2, mode=Mode.SUBTRACT)
        with Locations(Location((40, 120, 0), (0, 0, 270))):
            Circle(SKETCH_1_R_2, mode=Mode.SUBTRACT)
        with Locations(Location((35, 150, 0), (0, 0, 270))):
            Circle(SKETCH_1_R_3, mode=Mode.SUBTRACT)
        with Locations(Location((48, 132, 0), (0, 0, 270))):
            Circle(SKETCH_1_R, mode=Mode.SUBTRACT)
        with Locations(Location((60, 120, 0), (0, 0, 270))):
            Circle(SKETCH_1_R_2, mode=Mode.SUBTRACT)
        with Locations(Location((62, 132, 0), (0, 0, 270))):
            Circle(SKETCH_1_R, mode=Mode.SUBTRACT)
        with Locations(Location((48, 148, 0), (0, 0, 270))):
            Circle(SKETCH_1_R, mode=Mode.SUBTRACT)
        with Locations(Location((62, 148, 0), (0, 0, 270))):
            Circle(SKETCH_1_R, mode=Mode.SUBTRACT)
    extrude(amount=EXTRUDE_2_DEPTH)


solid = part.part
